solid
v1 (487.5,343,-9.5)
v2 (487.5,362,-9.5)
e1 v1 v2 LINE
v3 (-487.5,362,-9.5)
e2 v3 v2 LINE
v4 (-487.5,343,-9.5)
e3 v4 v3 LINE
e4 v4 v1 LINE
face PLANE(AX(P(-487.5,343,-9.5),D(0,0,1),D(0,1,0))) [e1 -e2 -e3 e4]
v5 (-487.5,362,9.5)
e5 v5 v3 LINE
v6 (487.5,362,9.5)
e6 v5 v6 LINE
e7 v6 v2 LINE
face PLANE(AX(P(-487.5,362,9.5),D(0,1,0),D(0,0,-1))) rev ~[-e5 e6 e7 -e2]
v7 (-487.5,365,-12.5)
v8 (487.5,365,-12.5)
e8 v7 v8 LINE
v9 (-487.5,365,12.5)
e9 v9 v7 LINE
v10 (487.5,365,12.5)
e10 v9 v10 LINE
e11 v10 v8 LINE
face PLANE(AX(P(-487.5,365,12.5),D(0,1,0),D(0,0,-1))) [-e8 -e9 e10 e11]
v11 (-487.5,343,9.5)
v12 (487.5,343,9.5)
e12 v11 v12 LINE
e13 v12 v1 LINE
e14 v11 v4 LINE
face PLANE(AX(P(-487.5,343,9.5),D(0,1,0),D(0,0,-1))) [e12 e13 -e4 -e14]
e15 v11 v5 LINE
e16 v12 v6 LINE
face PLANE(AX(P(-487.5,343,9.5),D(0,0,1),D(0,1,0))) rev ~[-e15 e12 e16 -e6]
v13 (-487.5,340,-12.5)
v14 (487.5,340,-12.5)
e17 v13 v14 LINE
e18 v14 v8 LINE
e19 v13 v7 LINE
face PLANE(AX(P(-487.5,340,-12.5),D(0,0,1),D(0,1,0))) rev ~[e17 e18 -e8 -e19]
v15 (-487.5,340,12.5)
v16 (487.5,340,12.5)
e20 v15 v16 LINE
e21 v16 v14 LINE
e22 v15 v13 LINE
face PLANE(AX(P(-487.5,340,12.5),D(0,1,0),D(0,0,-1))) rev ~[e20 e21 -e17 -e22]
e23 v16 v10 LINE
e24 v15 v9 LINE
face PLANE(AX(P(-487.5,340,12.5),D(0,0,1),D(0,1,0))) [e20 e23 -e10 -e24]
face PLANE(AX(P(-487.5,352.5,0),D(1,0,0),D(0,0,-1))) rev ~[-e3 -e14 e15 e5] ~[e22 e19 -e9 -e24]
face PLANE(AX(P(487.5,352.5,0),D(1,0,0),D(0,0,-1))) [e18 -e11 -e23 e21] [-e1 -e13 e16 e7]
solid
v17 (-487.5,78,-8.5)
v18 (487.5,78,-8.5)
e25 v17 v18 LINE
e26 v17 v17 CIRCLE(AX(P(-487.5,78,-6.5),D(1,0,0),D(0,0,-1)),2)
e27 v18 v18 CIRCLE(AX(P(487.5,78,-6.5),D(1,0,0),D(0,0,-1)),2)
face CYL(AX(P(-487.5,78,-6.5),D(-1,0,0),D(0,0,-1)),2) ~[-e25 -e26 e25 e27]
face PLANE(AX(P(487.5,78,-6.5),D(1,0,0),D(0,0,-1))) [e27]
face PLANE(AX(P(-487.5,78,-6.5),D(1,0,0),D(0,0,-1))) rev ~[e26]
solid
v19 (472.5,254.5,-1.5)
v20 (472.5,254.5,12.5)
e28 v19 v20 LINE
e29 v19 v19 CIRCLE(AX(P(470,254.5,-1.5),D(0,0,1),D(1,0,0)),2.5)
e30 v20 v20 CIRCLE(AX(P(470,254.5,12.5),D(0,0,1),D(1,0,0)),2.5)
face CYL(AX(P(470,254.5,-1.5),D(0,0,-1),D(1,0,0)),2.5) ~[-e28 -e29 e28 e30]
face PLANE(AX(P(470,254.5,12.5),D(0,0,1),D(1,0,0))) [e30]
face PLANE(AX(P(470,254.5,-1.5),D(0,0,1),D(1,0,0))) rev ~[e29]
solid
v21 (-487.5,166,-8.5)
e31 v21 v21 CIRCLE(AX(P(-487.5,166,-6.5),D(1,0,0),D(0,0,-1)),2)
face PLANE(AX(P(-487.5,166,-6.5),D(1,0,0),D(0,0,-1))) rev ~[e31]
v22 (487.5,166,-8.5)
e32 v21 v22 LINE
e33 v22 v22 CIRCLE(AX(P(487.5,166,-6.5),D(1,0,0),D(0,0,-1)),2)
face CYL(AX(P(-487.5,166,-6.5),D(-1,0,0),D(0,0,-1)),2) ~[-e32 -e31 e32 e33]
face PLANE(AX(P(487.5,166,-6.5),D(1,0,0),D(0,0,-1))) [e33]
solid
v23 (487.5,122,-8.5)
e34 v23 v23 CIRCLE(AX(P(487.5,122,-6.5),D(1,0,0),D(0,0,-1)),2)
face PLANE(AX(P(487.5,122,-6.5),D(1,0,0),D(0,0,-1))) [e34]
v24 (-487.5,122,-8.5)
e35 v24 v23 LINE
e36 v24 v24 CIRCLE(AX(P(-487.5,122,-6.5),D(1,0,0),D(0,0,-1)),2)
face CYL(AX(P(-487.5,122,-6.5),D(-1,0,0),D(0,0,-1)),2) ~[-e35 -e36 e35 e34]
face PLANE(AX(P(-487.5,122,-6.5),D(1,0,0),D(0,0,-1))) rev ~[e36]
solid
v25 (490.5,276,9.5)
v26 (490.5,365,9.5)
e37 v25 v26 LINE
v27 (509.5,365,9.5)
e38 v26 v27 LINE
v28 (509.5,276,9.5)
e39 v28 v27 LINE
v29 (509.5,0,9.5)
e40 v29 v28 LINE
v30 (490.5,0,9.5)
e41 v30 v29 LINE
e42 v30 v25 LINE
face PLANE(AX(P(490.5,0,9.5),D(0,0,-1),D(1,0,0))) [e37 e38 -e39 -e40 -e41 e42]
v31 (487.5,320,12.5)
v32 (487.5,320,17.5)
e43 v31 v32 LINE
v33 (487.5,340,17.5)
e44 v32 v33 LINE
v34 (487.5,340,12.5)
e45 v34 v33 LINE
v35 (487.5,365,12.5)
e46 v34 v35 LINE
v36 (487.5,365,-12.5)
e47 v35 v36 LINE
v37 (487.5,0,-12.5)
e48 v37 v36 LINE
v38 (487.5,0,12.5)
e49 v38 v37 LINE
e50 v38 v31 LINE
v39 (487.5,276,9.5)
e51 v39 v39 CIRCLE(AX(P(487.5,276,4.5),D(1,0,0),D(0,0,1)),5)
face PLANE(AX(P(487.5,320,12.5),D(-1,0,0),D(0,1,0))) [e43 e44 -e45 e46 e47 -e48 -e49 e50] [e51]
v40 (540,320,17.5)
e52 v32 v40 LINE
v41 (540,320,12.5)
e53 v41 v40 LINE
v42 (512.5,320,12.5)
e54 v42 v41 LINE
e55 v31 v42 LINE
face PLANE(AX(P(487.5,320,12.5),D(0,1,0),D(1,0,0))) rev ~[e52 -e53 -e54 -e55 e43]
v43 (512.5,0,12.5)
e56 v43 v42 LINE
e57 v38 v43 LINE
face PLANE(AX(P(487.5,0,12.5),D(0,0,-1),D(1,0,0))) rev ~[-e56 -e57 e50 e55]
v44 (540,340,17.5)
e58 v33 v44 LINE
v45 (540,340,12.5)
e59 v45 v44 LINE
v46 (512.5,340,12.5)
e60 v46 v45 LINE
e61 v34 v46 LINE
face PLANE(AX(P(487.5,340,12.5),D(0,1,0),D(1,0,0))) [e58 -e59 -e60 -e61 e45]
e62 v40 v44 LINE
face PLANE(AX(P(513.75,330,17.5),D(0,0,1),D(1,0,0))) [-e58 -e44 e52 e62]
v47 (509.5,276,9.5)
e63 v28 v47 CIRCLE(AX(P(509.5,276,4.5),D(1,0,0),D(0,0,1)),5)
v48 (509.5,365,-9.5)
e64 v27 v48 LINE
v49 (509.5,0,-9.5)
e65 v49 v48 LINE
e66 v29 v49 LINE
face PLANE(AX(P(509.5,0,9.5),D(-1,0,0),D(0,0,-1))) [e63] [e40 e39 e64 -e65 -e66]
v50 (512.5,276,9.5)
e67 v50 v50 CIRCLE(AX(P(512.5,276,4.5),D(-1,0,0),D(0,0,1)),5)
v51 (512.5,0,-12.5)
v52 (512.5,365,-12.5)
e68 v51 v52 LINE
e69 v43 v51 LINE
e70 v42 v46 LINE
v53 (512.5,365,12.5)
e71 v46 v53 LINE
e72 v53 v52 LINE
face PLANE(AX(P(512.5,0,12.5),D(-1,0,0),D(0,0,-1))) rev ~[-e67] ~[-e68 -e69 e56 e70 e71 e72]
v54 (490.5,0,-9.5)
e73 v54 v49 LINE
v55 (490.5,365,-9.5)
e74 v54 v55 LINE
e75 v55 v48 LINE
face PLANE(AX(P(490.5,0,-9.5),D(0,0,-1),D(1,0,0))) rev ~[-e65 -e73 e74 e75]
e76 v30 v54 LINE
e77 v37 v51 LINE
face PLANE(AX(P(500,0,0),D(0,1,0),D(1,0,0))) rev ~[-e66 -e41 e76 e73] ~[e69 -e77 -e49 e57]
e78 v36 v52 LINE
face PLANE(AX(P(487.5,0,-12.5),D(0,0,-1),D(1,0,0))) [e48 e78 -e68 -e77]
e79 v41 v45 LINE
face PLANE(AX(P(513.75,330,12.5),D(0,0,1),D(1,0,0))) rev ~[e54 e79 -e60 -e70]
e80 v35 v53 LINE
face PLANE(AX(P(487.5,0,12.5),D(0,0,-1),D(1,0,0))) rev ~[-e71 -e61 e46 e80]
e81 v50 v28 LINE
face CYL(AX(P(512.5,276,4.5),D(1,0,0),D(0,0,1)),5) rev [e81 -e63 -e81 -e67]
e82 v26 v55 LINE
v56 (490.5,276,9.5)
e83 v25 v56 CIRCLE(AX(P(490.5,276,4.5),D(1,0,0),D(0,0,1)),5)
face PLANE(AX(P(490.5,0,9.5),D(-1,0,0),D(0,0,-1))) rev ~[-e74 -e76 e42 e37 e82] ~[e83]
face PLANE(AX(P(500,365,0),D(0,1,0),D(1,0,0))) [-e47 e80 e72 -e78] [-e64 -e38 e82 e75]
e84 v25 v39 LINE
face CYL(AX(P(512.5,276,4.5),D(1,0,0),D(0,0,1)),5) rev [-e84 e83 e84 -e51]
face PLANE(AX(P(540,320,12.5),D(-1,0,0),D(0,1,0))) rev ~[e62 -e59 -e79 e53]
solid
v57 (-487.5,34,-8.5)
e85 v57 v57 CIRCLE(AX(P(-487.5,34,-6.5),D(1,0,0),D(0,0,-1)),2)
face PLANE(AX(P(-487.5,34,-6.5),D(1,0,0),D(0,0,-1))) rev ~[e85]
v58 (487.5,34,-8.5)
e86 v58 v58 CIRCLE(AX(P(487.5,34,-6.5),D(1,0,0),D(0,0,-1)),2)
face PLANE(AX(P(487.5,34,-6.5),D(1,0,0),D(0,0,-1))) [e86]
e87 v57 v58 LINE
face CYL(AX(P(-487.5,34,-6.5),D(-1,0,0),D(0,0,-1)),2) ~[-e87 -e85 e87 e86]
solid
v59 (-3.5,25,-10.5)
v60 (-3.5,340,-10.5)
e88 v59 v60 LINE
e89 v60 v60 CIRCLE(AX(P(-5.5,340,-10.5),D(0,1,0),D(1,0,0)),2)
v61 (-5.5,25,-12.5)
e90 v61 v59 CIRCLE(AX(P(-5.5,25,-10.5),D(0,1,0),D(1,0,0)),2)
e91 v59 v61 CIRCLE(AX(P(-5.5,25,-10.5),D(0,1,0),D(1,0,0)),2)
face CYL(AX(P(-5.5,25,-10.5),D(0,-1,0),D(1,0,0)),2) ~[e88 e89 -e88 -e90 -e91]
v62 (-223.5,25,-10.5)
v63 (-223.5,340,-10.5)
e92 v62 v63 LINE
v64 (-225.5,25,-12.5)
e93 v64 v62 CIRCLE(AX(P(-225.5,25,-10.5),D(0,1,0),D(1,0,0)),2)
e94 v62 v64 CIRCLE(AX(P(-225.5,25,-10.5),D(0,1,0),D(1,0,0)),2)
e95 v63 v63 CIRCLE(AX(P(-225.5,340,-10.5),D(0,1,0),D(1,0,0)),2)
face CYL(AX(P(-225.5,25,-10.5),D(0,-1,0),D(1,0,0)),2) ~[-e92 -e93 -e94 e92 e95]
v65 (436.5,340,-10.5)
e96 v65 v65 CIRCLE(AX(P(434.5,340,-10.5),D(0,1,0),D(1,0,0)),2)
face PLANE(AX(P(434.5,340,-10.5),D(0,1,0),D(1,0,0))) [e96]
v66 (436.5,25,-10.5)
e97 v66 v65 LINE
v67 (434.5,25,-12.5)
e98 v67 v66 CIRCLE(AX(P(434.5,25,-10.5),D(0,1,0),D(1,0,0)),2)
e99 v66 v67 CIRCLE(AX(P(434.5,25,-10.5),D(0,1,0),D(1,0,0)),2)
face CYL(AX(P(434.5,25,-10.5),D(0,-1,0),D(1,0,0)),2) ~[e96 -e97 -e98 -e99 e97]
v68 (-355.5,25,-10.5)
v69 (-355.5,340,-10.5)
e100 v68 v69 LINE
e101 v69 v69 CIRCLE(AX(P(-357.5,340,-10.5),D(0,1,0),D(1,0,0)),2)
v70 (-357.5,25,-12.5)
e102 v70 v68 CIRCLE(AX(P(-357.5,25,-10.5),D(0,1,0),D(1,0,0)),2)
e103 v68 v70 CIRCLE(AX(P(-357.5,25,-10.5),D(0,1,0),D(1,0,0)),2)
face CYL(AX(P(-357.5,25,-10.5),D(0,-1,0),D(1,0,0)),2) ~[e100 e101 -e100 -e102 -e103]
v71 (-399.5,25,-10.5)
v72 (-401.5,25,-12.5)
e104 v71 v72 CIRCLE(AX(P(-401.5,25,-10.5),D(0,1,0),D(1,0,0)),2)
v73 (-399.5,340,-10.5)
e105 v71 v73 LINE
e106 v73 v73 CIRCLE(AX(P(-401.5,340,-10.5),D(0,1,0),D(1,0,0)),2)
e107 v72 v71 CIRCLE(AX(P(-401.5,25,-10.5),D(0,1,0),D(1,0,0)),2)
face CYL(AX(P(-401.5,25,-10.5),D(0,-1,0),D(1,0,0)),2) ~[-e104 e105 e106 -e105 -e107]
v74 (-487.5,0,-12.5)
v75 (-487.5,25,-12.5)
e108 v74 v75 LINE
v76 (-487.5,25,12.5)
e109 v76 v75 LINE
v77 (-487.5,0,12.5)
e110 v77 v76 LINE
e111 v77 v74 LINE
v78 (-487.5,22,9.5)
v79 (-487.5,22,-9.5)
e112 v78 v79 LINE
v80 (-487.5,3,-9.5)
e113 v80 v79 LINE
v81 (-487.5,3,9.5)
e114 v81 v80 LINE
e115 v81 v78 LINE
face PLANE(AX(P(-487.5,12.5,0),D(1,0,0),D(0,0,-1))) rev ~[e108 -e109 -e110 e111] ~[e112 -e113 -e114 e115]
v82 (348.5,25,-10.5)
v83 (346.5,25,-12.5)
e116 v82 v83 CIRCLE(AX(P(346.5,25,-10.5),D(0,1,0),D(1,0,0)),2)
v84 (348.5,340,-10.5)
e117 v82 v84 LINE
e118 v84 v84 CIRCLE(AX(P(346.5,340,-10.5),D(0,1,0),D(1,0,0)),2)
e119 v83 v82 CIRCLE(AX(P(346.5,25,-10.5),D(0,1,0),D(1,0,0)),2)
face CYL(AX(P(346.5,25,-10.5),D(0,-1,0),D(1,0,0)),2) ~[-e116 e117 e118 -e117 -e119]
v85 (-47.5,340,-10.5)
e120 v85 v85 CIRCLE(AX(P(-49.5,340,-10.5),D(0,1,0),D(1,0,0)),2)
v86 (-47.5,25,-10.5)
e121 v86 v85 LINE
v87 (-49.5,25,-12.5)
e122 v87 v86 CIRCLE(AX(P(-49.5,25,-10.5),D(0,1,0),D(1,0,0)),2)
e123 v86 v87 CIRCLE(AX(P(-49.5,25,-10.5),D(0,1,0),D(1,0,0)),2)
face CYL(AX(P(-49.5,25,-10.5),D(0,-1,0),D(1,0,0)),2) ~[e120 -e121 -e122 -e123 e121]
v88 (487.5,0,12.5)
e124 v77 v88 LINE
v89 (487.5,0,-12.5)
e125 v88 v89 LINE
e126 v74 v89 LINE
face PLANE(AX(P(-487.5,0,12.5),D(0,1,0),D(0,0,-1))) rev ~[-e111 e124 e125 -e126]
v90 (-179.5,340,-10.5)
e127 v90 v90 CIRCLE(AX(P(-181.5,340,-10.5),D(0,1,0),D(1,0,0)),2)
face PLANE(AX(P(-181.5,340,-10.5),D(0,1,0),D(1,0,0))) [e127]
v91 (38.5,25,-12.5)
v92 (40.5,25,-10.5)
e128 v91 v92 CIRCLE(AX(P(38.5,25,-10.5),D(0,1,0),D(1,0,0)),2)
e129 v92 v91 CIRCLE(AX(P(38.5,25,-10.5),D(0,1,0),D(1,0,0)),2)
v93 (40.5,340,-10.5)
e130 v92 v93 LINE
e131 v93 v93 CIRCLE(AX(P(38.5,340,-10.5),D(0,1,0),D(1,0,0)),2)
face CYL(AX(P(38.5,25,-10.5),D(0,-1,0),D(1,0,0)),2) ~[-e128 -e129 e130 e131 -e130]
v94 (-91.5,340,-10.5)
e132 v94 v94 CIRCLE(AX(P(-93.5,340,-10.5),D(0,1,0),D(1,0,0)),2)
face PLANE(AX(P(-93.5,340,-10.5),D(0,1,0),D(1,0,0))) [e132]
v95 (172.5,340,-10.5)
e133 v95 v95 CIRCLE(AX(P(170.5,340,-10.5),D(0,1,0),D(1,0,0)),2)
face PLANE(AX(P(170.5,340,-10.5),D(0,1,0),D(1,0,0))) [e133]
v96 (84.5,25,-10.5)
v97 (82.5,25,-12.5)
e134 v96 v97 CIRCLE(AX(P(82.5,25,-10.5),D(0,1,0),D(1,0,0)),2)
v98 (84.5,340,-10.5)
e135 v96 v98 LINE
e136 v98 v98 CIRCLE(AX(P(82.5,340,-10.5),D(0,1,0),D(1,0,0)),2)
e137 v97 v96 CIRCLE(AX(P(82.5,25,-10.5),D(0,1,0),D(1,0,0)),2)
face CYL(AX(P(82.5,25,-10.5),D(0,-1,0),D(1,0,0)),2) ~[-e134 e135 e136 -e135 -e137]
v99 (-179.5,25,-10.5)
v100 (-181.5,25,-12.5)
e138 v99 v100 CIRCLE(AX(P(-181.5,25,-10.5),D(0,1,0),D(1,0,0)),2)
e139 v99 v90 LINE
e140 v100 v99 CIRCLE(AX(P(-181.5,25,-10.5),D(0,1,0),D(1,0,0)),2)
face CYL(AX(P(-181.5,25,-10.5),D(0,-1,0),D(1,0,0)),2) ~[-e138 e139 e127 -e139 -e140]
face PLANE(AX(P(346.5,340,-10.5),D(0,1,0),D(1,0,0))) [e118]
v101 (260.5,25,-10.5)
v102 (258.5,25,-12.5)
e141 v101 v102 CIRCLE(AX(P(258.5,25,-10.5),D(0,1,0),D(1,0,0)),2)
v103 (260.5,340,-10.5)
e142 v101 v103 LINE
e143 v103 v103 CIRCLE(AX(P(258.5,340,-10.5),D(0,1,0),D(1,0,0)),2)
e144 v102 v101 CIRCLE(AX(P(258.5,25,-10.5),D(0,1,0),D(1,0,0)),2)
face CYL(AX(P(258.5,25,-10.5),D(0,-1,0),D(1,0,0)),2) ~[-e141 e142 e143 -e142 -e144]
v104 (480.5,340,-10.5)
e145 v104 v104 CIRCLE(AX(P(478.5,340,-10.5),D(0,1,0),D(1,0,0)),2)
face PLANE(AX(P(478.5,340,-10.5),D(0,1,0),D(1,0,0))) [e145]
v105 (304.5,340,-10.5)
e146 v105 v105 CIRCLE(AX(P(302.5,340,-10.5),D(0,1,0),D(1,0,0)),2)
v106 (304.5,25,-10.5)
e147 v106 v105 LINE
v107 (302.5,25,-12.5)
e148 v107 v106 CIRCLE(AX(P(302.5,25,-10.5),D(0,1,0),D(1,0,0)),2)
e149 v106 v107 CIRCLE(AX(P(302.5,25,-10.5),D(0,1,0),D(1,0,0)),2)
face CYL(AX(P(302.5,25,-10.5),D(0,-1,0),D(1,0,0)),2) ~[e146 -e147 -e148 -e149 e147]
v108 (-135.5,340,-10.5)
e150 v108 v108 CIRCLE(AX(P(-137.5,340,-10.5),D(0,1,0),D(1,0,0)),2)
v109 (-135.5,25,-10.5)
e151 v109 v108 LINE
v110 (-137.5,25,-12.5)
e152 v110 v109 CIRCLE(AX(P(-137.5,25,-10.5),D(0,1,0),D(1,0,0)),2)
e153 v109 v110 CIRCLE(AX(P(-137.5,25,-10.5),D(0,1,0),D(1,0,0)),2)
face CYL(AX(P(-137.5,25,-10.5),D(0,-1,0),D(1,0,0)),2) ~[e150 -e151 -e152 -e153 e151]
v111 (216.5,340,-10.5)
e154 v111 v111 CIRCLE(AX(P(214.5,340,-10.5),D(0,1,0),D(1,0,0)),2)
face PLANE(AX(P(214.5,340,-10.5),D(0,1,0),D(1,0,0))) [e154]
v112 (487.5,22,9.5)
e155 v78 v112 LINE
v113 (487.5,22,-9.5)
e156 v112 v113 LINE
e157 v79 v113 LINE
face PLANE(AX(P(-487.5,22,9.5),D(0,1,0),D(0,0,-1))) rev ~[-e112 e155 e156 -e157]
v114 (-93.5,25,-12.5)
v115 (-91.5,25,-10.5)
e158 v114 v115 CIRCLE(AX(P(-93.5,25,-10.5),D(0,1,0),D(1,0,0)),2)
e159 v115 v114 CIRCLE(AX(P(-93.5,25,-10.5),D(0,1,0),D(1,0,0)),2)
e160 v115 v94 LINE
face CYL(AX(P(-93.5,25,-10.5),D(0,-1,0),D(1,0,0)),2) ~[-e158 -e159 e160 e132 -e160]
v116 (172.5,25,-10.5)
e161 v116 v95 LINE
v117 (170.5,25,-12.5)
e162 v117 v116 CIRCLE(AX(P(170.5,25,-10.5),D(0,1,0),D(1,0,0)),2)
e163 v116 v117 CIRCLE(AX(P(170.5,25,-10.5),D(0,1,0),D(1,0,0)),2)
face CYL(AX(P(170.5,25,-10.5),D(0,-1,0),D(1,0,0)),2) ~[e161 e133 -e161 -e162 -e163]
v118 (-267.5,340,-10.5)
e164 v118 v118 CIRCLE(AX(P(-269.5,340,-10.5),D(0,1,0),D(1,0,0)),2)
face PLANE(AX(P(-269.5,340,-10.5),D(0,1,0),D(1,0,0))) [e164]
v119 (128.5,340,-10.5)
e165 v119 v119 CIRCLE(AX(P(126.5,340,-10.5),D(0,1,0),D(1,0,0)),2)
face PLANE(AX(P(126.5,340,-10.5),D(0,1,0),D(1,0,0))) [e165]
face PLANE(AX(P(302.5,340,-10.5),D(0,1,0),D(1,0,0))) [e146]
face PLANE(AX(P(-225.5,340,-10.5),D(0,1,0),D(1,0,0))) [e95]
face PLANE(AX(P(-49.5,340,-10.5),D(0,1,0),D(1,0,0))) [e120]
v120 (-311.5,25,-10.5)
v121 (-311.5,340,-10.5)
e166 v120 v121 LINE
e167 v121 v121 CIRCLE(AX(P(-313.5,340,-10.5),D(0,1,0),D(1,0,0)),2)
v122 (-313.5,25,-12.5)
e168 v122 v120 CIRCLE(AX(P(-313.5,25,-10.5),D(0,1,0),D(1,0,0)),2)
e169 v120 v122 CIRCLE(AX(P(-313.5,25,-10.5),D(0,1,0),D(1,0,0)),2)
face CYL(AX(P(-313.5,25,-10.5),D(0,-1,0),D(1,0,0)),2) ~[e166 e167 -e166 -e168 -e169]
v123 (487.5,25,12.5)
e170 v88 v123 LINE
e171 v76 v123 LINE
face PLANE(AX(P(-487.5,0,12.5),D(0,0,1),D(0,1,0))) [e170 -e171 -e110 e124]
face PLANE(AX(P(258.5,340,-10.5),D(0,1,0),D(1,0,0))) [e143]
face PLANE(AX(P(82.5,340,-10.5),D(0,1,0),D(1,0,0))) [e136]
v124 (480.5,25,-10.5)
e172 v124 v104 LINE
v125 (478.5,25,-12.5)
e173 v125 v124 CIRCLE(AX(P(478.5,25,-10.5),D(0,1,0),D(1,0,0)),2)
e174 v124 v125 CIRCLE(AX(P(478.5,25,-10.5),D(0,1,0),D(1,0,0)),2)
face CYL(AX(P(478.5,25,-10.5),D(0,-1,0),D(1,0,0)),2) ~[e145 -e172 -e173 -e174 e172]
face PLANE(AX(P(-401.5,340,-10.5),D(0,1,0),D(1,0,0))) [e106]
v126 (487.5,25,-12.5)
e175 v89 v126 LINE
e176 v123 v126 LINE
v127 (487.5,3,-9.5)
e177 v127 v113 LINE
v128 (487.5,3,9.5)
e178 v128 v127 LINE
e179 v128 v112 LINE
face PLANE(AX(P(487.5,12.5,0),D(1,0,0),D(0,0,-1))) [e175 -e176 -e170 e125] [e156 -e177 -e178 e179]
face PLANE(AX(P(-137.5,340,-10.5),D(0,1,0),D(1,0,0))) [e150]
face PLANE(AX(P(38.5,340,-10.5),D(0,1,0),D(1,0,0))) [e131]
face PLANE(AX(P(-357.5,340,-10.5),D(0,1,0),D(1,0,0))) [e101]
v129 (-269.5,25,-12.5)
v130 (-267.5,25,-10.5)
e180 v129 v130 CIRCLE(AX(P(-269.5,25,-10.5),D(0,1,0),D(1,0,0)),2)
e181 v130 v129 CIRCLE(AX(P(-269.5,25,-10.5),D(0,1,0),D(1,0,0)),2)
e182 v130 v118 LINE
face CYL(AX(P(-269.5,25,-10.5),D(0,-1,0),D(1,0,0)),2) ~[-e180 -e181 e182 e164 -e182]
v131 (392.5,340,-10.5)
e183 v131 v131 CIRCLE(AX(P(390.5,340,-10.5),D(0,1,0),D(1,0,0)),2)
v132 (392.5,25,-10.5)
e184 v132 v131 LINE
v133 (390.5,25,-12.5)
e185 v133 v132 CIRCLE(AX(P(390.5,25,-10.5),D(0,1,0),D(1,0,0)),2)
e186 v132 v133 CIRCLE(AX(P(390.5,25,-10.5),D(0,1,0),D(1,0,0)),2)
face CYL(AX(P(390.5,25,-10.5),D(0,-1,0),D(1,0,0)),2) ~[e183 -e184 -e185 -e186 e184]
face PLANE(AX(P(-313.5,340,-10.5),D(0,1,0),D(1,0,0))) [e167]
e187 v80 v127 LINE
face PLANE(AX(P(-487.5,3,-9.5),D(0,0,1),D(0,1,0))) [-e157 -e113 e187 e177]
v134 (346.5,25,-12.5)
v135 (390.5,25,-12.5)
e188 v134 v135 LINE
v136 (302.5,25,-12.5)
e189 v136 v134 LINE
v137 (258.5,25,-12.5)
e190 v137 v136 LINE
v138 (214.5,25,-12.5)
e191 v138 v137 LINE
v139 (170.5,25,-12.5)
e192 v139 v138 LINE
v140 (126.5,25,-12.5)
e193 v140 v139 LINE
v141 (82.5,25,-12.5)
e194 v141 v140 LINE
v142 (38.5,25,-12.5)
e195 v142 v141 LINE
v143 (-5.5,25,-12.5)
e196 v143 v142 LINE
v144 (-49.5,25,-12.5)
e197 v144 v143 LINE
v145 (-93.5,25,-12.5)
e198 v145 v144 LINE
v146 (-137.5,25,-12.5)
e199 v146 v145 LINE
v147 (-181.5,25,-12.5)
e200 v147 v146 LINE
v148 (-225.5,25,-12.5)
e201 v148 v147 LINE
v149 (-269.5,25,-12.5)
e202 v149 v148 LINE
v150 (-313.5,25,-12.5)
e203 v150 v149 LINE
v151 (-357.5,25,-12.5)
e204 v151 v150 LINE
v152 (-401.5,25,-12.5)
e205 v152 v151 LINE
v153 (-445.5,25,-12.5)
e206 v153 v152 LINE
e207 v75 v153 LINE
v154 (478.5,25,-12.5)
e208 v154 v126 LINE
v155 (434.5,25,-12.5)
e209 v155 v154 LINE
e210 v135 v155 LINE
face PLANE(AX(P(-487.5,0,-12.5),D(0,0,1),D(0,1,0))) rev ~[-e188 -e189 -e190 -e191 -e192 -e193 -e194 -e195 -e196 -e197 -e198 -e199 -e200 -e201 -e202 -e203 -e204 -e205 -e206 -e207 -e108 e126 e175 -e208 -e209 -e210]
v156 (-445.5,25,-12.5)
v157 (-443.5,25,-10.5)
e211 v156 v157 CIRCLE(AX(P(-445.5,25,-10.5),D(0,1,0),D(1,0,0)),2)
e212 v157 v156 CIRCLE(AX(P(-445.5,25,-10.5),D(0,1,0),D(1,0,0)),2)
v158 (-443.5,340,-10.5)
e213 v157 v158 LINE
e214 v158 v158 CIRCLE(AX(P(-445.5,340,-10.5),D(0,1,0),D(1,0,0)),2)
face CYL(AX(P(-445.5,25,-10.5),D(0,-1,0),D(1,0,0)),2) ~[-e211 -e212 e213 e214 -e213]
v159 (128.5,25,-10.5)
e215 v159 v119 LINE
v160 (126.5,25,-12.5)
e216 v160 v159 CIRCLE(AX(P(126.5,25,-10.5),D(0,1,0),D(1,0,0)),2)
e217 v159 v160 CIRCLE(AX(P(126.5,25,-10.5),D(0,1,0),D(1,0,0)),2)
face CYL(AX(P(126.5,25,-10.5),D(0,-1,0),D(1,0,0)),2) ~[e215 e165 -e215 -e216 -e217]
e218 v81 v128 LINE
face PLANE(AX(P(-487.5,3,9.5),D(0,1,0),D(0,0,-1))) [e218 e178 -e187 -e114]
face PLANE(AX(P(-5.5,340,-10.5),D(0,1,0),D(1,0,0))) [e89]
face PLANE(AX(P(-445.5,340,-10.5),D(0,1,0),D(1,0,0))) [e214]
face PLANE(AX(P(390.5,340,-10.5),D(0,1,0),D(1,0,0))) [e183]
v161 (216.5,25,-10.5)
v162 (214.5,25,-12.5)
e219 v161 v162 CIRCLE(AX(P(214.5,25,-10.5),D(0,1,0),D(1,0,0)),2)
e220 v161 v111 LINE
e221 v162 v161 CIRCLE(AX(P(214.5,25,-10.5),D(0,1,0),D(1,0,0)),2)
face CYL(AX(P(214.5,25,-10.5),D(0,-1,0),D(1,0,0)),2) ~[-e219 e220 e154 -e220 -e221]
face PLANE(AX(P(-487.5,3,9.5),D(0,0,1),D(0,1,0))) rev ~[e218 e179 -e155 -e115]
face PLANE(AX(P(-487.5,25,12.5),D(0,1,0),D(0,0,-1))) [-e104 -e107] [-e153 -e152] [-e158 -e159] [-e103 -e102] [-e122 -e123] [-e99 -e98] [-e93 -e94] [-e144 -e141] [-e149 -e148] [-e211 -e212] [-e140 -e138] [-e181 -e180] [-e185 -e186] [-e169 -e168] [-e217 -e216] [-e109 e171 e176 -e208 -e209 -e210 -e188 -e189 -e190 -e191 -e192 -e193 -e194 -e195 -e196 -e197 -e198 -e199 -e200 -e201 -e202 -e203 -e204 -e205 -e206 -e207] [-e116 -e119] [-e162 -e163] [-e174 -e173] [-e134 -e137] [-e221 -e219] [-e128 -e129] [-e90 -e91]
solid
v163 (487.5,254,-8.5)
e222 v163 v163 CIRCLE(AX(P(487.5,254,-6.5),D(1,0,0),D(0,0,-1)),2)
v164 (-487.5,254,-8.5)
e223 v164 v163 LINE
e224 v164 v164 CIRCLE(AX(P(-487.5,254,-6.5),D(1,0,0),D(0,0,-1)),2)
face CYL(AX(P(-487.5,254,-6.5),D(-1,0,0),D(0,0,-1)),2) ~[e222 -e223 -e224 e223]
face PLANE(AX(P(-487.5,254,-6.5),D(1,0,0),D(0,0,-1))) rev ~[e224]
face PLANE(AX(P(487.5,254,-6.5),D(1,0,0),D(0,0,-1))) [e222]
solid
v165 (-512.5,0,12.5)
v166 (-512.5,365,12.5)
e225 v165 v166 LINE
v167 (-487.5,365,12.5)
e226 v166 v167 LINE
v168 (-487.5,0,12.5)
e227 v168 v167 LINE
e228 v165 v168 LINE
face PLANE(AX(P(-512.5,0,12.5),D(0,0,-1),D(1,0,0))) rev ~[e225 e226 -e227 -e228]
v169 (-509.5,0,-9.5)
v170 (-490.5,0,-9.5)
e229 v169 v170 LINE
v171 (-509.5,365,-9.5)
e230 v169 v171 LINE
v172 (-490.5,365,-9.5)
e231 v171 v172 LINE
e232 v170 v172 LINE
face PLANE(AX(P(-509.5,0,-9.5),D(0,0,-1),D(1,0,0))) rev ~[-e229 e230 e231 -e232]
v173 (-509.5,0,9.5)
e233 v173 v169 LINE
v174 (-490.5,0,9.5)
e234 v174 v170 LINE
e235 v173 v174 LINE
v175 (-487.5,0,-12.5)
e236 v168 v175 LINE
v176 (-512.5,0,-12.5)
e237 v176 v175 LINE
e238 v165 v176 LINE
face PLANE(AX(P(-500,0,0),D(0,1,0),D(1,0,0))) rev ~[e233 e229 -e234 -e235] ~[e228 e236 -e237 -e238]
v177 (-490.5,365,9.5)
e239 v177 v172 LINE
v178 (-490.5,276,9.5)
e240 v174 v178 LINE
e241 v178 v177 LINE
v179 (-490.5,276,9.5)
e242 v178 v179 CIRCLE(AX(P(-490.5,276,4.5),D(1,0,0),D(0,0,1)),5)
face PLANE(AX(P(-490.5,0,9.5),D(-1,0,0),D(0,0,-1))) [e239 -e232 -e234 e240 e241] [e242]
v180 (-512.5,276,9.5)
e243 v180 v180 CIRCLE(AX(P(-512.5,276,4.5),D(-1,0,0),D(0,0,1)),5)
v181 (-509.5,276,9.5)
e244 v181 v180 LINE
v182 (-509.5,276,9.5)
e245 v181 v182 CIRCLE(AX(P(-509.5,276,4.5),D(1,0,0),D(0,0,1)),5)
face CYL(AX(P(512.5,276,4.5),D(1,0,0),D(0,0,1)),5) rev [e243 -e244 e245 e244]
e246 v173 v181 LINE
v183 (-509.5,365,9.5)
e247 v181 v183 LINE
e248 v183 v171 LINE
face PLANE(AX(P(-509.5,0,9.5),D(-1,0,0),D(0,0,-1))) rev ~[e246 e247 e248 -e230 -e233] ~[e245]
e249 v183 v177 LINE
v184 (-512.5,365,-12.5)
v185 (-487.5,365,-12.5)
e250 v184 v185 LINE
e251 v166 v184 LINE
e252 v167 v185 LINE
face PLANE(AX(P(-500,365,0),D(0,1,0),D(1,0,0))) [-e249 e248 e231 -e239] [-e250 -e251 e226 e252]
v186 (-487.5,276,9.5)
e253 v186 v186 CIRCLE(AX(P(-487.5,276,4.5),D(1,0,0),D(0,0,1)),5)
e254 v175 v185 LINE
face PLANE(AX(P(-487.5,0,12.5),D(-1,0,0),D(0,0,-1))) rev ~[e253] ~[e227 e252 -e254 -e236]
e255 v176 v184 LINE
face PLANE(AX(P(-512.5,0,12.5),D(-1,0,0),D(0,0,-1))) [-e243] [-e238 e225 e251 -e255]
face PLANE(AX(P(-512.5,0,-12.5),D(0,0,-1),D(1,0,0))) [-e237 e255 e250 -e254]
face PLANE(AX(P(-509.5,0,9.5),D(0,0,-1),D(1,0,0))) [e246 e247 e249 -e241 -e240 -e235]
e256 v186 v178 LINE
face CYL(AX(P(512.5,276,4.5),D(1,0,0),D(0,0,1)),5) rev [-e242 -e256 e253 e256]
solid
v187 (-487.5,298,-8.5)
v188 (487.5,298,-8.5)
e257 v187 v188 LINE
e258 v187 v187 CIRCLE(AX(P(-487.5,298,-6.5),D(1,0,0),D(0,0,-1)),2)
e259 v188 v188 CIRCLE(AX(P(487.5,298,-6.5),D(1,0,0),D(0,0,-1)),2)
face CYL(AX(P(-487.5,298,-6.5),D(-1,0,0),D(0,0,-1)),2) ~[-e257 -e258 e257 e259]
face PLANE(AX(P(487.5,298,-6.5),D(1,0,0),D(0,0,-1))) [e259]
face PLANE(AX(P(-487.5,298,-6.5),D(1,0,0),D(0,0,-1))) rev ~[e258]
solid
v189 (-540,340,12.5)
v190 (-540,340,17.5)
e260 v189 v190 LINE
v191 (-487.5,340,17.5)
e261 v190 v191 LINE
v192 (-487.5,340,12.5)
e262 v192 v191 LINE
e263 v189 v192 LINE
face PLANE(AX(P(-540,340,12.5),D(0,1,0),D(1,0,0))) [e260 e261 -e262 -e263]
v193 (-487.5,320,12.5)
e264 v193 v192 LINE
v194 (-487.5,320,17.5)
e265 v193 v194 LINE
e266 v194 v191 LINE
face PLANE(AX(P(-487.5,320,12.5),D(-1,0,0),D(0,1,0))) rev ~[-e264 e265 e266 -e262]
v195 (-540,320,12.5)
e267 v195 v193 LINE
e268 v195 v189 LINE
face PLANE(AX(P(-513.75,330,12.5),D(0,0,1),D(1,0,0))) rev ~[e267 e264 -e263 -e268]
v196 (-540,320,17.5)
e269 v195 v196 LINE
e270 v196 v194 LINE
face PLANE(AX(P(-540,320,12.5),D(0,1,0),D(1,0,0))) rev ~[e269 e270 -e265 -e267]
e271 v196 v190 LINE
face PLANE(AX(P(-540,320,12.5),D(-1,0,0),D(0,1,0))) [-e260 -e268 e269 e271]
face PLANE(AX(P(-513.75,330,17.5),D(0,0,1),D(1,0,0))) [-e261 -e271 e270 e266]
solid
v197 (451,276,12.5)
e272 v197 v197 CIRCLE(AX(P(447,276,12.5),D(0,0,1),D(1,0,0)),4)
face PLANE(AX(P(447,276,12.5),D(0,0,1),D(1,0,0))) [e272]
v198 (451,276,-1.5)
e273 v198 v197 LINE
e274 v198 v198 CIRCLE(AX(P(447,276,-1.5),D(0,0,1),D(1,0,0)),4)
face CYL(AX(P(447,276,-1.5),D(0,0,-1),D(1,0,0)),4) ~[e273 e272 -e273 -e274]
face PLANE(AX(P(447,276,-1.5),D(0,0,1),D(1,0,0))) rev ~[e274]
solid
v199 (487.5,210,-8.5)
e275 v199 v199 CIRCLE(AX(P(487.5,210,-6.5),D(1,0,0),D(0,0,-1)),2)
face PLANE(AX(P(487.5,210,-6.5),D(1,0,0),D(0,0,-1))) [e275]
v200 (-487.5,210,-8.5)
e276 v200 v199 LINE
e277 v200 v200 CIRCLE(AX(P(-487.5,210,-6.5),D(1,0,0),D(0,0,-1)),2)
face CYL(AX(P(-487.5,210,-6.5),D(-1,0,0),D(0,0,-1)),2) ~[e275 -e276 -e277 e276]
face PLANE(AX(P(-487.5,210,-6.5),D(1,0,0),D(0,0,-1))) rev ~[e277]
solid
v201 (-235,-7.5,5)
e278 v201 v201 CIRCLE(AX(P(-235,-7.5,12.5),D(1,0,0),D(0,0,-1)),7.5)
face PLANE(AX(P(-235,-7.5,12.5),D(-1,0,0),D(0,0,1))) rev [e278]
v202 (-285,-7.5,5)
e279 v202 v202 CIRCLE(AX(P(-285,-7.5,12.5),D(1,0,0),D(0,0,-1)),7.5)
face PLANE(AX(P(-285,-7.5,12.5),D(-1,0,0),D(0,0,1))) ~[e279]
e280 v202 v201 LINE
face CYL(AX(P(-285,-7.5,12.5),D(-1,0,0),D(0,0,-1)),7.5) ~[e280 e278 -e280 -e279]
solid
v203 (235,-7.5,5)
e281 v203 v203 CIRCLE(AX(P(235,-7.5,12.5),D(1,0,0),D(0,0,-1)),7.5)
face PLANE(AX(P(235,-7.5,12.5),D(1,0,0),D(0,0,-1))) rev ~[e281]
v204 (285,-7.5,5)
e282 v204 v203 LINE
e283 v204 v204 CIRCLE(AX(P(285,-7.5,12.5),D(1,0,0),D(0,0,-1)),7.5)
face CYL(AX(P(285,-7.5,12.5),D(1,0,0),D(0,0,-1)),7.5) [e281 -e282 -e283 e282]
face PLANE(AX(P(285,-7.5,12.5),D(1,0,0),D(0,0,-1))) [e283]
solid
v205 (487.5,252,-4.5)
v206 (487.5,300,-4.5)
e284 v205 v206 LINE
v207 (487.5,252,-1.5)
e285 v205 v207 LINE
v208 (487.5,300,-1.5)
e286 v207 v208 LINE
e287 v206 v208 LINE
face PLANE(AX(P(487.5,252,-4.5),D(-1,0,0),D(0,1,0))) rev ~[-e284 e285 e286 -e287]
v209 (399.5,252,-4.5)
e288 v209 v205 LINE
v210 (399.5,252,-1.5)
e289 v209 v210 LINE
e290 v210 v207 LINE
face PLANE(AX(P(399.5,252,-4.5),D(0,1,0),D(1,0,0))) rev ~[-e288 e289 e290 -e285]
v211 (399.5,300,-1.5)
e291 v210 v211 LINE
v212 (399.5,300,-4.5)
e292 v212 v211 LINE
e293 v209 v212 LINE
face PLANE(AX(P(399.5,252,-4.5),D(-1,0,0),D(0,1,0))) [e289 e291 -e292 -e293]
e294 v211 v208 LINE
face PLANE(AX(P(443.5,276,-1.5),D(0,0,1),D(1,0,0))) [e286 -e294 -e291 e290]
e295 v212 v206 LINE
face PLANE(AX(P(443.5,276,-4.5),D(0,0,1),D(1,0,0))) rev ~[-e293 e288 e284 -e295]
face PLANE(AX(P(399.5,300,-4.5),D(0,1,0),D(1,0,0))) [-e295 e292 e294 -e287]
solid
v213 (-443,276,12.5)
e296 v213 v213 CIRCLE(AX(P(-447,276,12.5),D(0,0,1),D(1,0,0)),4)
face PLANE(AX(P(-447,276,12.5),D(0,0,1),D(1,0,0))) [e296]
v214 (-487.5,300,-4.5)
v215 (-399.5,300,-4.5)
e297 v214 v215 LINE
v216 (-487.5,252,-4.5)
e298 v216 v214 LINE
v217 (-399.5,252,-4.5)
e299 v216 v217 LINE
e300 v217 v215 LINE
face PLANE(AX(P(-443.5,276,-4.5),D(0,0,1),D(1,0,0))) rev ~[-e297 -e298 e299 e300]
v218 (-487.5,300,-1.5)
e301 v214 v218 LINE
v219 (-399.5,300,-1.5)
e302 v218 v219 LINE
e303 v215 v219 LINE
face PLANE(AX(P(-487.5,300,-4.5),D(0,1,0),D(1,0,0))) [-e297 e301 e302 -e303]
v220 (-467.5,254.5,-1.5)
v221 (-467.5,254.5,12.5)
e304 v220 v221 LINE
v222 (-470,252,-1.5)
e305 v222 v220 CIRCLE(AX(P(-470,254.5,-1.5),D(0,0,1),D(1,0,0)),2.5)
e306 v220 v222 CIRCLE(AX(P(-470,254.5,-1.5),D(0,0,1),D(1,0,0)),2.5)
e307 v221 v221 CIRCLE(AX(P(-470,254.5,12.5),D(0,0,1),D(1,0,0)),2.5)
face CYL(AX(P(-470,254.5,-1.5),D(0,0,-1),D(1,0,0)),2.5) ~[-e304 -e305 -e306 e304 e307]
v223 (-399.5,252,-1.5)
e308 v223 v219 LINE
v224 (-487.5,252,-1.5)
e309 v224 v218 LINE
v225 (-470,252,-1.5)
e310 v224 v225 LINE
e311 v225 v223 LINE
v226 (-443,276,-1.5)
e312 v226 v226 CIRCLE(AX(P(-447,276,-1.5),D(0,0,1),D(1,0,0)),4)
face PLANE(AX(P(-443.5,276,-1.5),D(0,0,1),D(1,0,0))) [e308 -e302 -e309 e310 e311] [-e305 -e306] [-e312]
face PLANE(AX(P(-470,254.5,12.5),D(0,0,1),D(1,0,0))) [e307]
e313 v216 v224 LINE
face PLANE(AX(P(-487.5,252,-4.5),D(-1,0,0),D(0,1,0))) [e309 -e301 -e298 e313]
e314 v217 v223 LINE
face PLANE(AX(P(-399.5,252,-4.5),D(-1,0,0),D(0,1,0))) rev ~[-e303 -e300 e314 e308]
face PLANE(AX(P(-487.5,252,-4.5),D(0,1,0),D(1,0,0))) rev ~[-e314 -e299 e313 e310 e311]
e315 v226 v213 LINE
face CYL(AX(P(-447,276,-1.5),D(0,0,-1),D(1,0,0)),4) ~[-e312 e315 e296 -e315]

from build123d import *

# Parameters (mm, degrees)
SCHIZZO1_W                      = 25
SCHIZZO1_H                      = 25
SCHIZZO1_W_2                    = 19
SCHIZZO1_H_2                    = 19
ESTRUSIONE_ESTRUSIONE1_DEPTH    = 365
ESTRUSIONE_ESTRUSIONE1_2_DEPTH  = 365
SCHIZZO2_W                      = 25
SCHIZZO2_H                      = 25
SCHIZZO2_W_2                    = 19
SCHIZZO2_H_2                    = 19
ESTRUSIONE_ESTRUSIONE2_DEPTH    = 975
ESTRUSIONE_ESTRUSIONE2_2_DEPTH  = 975
SCHIZZO4_R                      = 7.5
ESTRUSIONE_ESTRUSIONE3_DEPTH    = 50
SCHIZZO8_W                      = 52.5
SCHIZZO8_H                      = 20
ESTRUSIONE_ESTRUSIONE8_DEPTH    = 5
SCHIZZO6_R                      = 2
ESTRUSIONE_ESTRUSIONE5_DEPTH    = 315
SCHIZZO7_R                      = 2
ESTRUSIONE_ESTRUSIONE7_DEPTH    = 975
ESTRUSIONE_ESTRUSIONE7_2_DEPTH  = 975
ESTRUSIONE_ESTRUSIONE7_3_DEPTH  = 975
ESTRUSIONE_ESTRUSIONE7_4_DEPTH  = 975
ESTRUSIONE_ESTRUSIONE7_5_DEPTH  = 975
ESTRUSIONE_ESTRUSIONE7_6_DEPTH  = 975
ESTRUSIONE_ESTRUSIONE7_7_DEPTH  = 975
TAGLIO_ESTRUSIONE1_START        = -1025
SCHIZZO9_R                      = 5
TAGLIO_ESTRUSIONE1_DEPTH        = 1025
SCHIZZO10_W                     = 88
SCHIZZO10_H                     = 48
ESTRUSIONE_ESTRUSIONE10_DEPTH   = 3
ESTRUSIONE_ESTRUSIONE10_2_DEPTH = 3
SCHIZZO11_R                     = 2.5
ESTRUSIONE_ESTRUSIONE11_DEPTH   = 14
SCHIZZO12_R                     = 4
ESTRUSIONE_ESTRUSIONE12_DEPTH   = 14


with BuildPart() as part:
    # Schizzo1 → Estrusione-Estrusione1 (new body)
    with BuildSketch(Plane(origin=(0, 0, 0), x_dir=(1, 0, 0), z_dir=(0, 1, 0))):
        with Locations((-500, 0)):
            Rectangle(SCHIZZO1_W, SCHIZZO1_H)
        with Locations((-500, 0)):
            Rectangle(SCHIZZO1_W_2, SCHIZZO1_H_2, mode=Mode.SUBTRACT)
    extrude(amount=ESTRUSIONE_ESTRUSIONE1_DEPTH)


with BuildPart() as body_2:
    # Schizzo1 → Estrusione-Estrusione1 2 (new body)
    with BuildSketch(Plane(origin=(0, 0, 0), x_dir=(1, 0, 0), z_dir=(0, 1, 0))):
        with Locations((500, 0)):
            Rectangle(SCHIZZO1_W, SCHIZZO1_H)
        with Locations((500, 0)):
            Rectangle(SCHIZZO1_W_2, SCHIZZO1_H_2, mode=Mode.SUBTRACT)
    extrude(amount=ESTRUSIONE_ESTRUSIONE1_2_DEPTH)

    # Schizzo8 → Estrusione-Estrusione8 (add)
    with BuildSketch(Plane.XY.offset(12.5)):
        with Locations((513.75, 330)):
            Rectangle(SCHIZZO8_W, SCHIZZO8_H)
        with Locations((-513.75, 330)):
            Rectangle(SCHIZZO8_W, SCHIZZO8_H)
    extrude(amount=ESTRUSIONE_ESTRUSIONE8_DEPTH)


with BuildPart() as body_3:
    # Schizzo2 → Estrusione-Estrusione2 (new body)
    with BuildSketch(Plane(origin=(-487.5, 0, 0), x_dir=(0, 0, -1), z_dir=(1, 0, 0))):
        with Locations((0, 12.5)):
            Rectangle(SCHIZZO2_W, SCHIZZO2_H)
        with Locations((0, 12.5)):
            Rectangle(SCHIZZO2_W_2, SCHIZZO2_H_2, mode=Mode.SUBTRACT)
    extrude(amount=ESTRUSIONE_ESTRUSIONE2_DEPTH)

    # Schizzo6 → Estrusione-Estrusione5 (add)
    with BuildSketch(Plane(origin=(0, 25, 0), x_dir=(1, 0, 0), z_dir=(0, 1, 0))):
        with Locations((-445.5, 10.5)):
            Circle(SCHIZZO6_R)
        with Locations((-401.5, 10.5)):
            Circle(SCHIZZO6_R)
        with Locations((-357.5, 10.5)):
            Circle(SCHIZZO6_R)
        with Locations((-313.5, 10.5)):
            Circle(SCHIZZO6_R)
        with Locations((-269.5, 10.5)):
            Circle(SCHIZZO6_R)
        with Locations((-225.5, 10.5)):
            Circle(SCHIZZO6_R)
        with Locations((-181.5, 10.5)):
            Circle(SCHIZZO6_R)
        with Locations((-137.5, 10.5)):
            Circle(SCHIZZO6_R)
        with Locations((-93.5, 10.5)):
            Circle(SCHIZZO6_R)
        with Locations((-49.5, 10.5)):
            Circle(SCHIZZO6_R)
        with Locations((-5.5, 10.5)):
            Circle(SCHIZZO6_R)
        with Locations((38.5, 10.5)):
            Circle(SCHIZZO6_R)
        with Locations((82.5, 10.5)):
            Circle(SCHIZZO6_R)
        with Locations((126.5, 10.5)):
            Circle(SCHIZZO6_R)
        with Locations((170.5, 10.5)):
            Circle(SCHIZZO6_R)
        with Locations((214.5, 10.5)):
            Circle(SCHIZZO6_R)
        with Locations((258.5, 10.5)):
            Circle(SCHIZZO6_R)
        with Locations((302.5, 10.5)):
            Circle(SCHIZZO6_R)
        with Locations((346.5, 10.5)):
            Circle(SCHIZZO6_R)
        with Locations((390.5, 10.5)):
            Circle(SCHIZZO6_R)
        with Locations((434.5, 10.5)):
            Circle(SCHIZZO6_R)
        with Locations((478.5, 10.5)):
            Circle(SCHIZZO6_R)
    extrude(amount=ESTRUSIONE_ESTRUSIONE5_DEPTH)


with BuildPart() as body_4:
    # Schizzo2 → Estrusione-Estrusione2 2 (new body)
    with BuildSketch(Plane(origin=(-487.5, 0, 0), x_dir=(0, 0, -1), z_dir=(1, 0, 0))):
        with Locations((0, 352.5)):
            Rectangle(SCHIZZO2_W, SCHIZZO2_H)
        with Locations((0, 352.5)):
            Rectangle(SCHIZZO2_W_2, SCHIZZO2_H_2, mode=Mode.SUBTRACT)
    extrude(amount=ESTRUSIONE_ESTRUSIONE2_2_DEPTH)


with BuildPart() as body_5:
    # Schizzo4 → Estrusione-Estrusione3 (new body)
    with BuildSketch(Plane(origin=(285, 0, 0), x_dir=(0, 0, -1), z_dir=(1, 0, 0))):
        with Locations((-12.5, -7.5)):
            Circle(SCHIZZO4_R)
    extrude(amount=-ESTRUSIONE_ESTRUSIONE3_DEPTH)


with BuildPart() as body_6:
    # Specchia1: mirrored copy
    add(body_5.part.mirror(Plane(origin=(0, 0, 0), x_dir=(0, 0, 1), z_dir=(1, 0, 0))))


with BuildPart() as body_7:
    # Schizzo7 → Estrusione-Estrusione7 (new body)
    with BuildSketch(Plane(origin=(-487.5, 0, 0), x_dir=(0, 0, -1), z_dir=(1, 0, 0))):
        with Locations((6.5, 298)):
            Circle(SCHIZZO7_R)
    extrude(amount=ESTRUSIONE_ESTRUSIONE7_DEPTH)


with BuildPart() as body_8:
    # Schizzo7 → Estrusione-Estrusione7 2 (new body)
    with BuildSketch(Plane(origin=(-487.5, 0, 0), x_dir=(0, 0, -1), z_dir=(1, 0, 0))):
        with Locations((6.5, 254)):
            Circle(SCHIZZO7_R)
    extrude(amount=ESTRUSIONE_ESTRUSIONE7_2_DEPTH)


with BuildPart() as body_9:
    # Schizzo7 → Estrusione-Estrusione7 3 (new body)
    with BuildSketch(Plane(origin=(-487.5, 0, 0), x_dir=(0, 0, -1), z_dir=(1, 0, 0))):
        with Locations((6.5, 210)):
            Circle(SCHIZZO7_R)
    extrude(amount=ESTRUSIONE_ESTRUSIONE7_3_DEPTH)


with BuildPart() as body_10:
    # Schizzo7 → Estrusione-Estrusione7 4 (new body)
    with BuildSketch(Plane(origin=(-487.5, 0, 0), x_dir=(0, 0, -1), z_dir=(1, 0, 0))):
        with Locations((6.5, 166)):
            Circle(SCHIZZO7_R)
    extrude(amount=ESTRUSIONE_ESTRUSIONE7_4_DEPTH)


with BuildPart() as body_11:
    # Schizzo7 → Estrusione-Estrusione7 5 (new body)
    with BuildSketch(Plane(origin=(-487.5, 0, 0), x_dir=(0, 0, -1), z_dir=(1, 0, 0))):
        with Locations((6.5, 122)):
            Circle(SCHIZZO7_R)
    extrude(amount=ESTRUSIONE_ESTRUSIONE7_5_DEPTH)


with BuildPart() as body_12:
    # Schizzo7 → Estrusione-Estrusione7 6 (new body)
    with BuildSketch(Plane(origin=(-487.5, 0, 0), x_dir=(0, 0, -1), z_dir=(1, 0, 0))):
        with Locations((6.5, 78)):
            Circle(SCHIZZO7_R)
    extrude(amount=ESTRUSIONE_ESTRUSIONE7_6_DEPTH)


with BuildPart() as body_13:
    # Schizzo7 → Estrusione-Estrusione7 7 (new body)
    with BuildSketch(Plane(origin=(-487.5, 0, 0), x_dir=(0, 0, -1), z_dir=(1, 0, 0))):
        with Locations((6.5, 34)):
            Circle(SCHIZZO7_R)
    extrude(amount=ESTRUSIONE_ESTRUSIONE7_7_DEPTH)


with BuildPart() as taglio_estrusione1_tool:
    # Schizzo9 → Taglio-Estrusione1 (new body)
    with BuildSketch(Plane.ZY.offset(512.5).offset(TAGLIO_ESTRUSIONE1_START)):
        with Locations((4.5, 276)):
            Circle(SCHIZZO9_R)
    extrude(amount=TAGLIO_ESTRUSIONE1_DEPTH)


with BuildPart() as part_1:
    add(part.part)

    # Taglio-Estrusione1: cut by taglio_estrusione1_tool
    add(taglio_estrusione1_tool.part, mode=Mode.SUBTRACT)


with BuildPart() as body_2_1:
    add(body_2.part)

    # Taglio-Estrusione1: cut by taglio_estrusione1_tool
    add(taglio_estrusione1_tool.part, mode=Mode.SUBTRACT)


with BuildPart() as body_14:
    # Schizzo10 → Estrusione-Estrusione10 (new body)
    with BuildSketch(Plane.XY.offset(-4.5)):
        with Locations((-443.5, 276)):
            Rectangle(SCHIZZO10_W, SCHIZZO10_H)
    extrude(amount=ESTRUSIONE_ESTRUSIONE10_DEPTH)

    # Schizzo11 → Estrusione-Estrusione11 (add)
    with BuildSketch(Plane.XY.offset(-1.5)):
        with Locations((-470, 254.5)):
            Circle(SCHIZZO11_R)
        with Locations((470, 254.5)):
            Circle(SCHIZZO11_R)
    extrude(amount=ESTRUSIONE_ESTRUSIONE11_DEPTH)

    # Schizzo12 → Estrusione-Estrusione12 (add)
    with BuildSketch(Plane.XY.offset(-1.5)):
        with Locations((-447, 276)):
            Circle(SCHIZZO12_R)
        with Locations((447, 276)):
            Circle(SCHIZZO12_R)
    extrude(amount=ESTRUSIONE_ESTRUSIONE12_DEPTH)


with BuildPart() as body_15:
    # Schizzo10 → Estrusione-Estrusione10 2 (new body)
    with BuildSketch(Plane.XY.offset(-4.5)):
        with Locations((443.5, 276)):
            Rectangle(SCHIZZO10_W, SCHIZZO10_H)
    extrude(amount=ESTRUSIONE_ESTRUSIONE10_2_DEPTH)


solid = Compound([body_3.part, body_4.part, body_5.part, body_6.part, body_7.part, body_8.part, body_9.part, body_10.part, body_11.part, body_12.part, body_13.part, part_1.part, body_2_1.part, body_14.part, body_15.part])
